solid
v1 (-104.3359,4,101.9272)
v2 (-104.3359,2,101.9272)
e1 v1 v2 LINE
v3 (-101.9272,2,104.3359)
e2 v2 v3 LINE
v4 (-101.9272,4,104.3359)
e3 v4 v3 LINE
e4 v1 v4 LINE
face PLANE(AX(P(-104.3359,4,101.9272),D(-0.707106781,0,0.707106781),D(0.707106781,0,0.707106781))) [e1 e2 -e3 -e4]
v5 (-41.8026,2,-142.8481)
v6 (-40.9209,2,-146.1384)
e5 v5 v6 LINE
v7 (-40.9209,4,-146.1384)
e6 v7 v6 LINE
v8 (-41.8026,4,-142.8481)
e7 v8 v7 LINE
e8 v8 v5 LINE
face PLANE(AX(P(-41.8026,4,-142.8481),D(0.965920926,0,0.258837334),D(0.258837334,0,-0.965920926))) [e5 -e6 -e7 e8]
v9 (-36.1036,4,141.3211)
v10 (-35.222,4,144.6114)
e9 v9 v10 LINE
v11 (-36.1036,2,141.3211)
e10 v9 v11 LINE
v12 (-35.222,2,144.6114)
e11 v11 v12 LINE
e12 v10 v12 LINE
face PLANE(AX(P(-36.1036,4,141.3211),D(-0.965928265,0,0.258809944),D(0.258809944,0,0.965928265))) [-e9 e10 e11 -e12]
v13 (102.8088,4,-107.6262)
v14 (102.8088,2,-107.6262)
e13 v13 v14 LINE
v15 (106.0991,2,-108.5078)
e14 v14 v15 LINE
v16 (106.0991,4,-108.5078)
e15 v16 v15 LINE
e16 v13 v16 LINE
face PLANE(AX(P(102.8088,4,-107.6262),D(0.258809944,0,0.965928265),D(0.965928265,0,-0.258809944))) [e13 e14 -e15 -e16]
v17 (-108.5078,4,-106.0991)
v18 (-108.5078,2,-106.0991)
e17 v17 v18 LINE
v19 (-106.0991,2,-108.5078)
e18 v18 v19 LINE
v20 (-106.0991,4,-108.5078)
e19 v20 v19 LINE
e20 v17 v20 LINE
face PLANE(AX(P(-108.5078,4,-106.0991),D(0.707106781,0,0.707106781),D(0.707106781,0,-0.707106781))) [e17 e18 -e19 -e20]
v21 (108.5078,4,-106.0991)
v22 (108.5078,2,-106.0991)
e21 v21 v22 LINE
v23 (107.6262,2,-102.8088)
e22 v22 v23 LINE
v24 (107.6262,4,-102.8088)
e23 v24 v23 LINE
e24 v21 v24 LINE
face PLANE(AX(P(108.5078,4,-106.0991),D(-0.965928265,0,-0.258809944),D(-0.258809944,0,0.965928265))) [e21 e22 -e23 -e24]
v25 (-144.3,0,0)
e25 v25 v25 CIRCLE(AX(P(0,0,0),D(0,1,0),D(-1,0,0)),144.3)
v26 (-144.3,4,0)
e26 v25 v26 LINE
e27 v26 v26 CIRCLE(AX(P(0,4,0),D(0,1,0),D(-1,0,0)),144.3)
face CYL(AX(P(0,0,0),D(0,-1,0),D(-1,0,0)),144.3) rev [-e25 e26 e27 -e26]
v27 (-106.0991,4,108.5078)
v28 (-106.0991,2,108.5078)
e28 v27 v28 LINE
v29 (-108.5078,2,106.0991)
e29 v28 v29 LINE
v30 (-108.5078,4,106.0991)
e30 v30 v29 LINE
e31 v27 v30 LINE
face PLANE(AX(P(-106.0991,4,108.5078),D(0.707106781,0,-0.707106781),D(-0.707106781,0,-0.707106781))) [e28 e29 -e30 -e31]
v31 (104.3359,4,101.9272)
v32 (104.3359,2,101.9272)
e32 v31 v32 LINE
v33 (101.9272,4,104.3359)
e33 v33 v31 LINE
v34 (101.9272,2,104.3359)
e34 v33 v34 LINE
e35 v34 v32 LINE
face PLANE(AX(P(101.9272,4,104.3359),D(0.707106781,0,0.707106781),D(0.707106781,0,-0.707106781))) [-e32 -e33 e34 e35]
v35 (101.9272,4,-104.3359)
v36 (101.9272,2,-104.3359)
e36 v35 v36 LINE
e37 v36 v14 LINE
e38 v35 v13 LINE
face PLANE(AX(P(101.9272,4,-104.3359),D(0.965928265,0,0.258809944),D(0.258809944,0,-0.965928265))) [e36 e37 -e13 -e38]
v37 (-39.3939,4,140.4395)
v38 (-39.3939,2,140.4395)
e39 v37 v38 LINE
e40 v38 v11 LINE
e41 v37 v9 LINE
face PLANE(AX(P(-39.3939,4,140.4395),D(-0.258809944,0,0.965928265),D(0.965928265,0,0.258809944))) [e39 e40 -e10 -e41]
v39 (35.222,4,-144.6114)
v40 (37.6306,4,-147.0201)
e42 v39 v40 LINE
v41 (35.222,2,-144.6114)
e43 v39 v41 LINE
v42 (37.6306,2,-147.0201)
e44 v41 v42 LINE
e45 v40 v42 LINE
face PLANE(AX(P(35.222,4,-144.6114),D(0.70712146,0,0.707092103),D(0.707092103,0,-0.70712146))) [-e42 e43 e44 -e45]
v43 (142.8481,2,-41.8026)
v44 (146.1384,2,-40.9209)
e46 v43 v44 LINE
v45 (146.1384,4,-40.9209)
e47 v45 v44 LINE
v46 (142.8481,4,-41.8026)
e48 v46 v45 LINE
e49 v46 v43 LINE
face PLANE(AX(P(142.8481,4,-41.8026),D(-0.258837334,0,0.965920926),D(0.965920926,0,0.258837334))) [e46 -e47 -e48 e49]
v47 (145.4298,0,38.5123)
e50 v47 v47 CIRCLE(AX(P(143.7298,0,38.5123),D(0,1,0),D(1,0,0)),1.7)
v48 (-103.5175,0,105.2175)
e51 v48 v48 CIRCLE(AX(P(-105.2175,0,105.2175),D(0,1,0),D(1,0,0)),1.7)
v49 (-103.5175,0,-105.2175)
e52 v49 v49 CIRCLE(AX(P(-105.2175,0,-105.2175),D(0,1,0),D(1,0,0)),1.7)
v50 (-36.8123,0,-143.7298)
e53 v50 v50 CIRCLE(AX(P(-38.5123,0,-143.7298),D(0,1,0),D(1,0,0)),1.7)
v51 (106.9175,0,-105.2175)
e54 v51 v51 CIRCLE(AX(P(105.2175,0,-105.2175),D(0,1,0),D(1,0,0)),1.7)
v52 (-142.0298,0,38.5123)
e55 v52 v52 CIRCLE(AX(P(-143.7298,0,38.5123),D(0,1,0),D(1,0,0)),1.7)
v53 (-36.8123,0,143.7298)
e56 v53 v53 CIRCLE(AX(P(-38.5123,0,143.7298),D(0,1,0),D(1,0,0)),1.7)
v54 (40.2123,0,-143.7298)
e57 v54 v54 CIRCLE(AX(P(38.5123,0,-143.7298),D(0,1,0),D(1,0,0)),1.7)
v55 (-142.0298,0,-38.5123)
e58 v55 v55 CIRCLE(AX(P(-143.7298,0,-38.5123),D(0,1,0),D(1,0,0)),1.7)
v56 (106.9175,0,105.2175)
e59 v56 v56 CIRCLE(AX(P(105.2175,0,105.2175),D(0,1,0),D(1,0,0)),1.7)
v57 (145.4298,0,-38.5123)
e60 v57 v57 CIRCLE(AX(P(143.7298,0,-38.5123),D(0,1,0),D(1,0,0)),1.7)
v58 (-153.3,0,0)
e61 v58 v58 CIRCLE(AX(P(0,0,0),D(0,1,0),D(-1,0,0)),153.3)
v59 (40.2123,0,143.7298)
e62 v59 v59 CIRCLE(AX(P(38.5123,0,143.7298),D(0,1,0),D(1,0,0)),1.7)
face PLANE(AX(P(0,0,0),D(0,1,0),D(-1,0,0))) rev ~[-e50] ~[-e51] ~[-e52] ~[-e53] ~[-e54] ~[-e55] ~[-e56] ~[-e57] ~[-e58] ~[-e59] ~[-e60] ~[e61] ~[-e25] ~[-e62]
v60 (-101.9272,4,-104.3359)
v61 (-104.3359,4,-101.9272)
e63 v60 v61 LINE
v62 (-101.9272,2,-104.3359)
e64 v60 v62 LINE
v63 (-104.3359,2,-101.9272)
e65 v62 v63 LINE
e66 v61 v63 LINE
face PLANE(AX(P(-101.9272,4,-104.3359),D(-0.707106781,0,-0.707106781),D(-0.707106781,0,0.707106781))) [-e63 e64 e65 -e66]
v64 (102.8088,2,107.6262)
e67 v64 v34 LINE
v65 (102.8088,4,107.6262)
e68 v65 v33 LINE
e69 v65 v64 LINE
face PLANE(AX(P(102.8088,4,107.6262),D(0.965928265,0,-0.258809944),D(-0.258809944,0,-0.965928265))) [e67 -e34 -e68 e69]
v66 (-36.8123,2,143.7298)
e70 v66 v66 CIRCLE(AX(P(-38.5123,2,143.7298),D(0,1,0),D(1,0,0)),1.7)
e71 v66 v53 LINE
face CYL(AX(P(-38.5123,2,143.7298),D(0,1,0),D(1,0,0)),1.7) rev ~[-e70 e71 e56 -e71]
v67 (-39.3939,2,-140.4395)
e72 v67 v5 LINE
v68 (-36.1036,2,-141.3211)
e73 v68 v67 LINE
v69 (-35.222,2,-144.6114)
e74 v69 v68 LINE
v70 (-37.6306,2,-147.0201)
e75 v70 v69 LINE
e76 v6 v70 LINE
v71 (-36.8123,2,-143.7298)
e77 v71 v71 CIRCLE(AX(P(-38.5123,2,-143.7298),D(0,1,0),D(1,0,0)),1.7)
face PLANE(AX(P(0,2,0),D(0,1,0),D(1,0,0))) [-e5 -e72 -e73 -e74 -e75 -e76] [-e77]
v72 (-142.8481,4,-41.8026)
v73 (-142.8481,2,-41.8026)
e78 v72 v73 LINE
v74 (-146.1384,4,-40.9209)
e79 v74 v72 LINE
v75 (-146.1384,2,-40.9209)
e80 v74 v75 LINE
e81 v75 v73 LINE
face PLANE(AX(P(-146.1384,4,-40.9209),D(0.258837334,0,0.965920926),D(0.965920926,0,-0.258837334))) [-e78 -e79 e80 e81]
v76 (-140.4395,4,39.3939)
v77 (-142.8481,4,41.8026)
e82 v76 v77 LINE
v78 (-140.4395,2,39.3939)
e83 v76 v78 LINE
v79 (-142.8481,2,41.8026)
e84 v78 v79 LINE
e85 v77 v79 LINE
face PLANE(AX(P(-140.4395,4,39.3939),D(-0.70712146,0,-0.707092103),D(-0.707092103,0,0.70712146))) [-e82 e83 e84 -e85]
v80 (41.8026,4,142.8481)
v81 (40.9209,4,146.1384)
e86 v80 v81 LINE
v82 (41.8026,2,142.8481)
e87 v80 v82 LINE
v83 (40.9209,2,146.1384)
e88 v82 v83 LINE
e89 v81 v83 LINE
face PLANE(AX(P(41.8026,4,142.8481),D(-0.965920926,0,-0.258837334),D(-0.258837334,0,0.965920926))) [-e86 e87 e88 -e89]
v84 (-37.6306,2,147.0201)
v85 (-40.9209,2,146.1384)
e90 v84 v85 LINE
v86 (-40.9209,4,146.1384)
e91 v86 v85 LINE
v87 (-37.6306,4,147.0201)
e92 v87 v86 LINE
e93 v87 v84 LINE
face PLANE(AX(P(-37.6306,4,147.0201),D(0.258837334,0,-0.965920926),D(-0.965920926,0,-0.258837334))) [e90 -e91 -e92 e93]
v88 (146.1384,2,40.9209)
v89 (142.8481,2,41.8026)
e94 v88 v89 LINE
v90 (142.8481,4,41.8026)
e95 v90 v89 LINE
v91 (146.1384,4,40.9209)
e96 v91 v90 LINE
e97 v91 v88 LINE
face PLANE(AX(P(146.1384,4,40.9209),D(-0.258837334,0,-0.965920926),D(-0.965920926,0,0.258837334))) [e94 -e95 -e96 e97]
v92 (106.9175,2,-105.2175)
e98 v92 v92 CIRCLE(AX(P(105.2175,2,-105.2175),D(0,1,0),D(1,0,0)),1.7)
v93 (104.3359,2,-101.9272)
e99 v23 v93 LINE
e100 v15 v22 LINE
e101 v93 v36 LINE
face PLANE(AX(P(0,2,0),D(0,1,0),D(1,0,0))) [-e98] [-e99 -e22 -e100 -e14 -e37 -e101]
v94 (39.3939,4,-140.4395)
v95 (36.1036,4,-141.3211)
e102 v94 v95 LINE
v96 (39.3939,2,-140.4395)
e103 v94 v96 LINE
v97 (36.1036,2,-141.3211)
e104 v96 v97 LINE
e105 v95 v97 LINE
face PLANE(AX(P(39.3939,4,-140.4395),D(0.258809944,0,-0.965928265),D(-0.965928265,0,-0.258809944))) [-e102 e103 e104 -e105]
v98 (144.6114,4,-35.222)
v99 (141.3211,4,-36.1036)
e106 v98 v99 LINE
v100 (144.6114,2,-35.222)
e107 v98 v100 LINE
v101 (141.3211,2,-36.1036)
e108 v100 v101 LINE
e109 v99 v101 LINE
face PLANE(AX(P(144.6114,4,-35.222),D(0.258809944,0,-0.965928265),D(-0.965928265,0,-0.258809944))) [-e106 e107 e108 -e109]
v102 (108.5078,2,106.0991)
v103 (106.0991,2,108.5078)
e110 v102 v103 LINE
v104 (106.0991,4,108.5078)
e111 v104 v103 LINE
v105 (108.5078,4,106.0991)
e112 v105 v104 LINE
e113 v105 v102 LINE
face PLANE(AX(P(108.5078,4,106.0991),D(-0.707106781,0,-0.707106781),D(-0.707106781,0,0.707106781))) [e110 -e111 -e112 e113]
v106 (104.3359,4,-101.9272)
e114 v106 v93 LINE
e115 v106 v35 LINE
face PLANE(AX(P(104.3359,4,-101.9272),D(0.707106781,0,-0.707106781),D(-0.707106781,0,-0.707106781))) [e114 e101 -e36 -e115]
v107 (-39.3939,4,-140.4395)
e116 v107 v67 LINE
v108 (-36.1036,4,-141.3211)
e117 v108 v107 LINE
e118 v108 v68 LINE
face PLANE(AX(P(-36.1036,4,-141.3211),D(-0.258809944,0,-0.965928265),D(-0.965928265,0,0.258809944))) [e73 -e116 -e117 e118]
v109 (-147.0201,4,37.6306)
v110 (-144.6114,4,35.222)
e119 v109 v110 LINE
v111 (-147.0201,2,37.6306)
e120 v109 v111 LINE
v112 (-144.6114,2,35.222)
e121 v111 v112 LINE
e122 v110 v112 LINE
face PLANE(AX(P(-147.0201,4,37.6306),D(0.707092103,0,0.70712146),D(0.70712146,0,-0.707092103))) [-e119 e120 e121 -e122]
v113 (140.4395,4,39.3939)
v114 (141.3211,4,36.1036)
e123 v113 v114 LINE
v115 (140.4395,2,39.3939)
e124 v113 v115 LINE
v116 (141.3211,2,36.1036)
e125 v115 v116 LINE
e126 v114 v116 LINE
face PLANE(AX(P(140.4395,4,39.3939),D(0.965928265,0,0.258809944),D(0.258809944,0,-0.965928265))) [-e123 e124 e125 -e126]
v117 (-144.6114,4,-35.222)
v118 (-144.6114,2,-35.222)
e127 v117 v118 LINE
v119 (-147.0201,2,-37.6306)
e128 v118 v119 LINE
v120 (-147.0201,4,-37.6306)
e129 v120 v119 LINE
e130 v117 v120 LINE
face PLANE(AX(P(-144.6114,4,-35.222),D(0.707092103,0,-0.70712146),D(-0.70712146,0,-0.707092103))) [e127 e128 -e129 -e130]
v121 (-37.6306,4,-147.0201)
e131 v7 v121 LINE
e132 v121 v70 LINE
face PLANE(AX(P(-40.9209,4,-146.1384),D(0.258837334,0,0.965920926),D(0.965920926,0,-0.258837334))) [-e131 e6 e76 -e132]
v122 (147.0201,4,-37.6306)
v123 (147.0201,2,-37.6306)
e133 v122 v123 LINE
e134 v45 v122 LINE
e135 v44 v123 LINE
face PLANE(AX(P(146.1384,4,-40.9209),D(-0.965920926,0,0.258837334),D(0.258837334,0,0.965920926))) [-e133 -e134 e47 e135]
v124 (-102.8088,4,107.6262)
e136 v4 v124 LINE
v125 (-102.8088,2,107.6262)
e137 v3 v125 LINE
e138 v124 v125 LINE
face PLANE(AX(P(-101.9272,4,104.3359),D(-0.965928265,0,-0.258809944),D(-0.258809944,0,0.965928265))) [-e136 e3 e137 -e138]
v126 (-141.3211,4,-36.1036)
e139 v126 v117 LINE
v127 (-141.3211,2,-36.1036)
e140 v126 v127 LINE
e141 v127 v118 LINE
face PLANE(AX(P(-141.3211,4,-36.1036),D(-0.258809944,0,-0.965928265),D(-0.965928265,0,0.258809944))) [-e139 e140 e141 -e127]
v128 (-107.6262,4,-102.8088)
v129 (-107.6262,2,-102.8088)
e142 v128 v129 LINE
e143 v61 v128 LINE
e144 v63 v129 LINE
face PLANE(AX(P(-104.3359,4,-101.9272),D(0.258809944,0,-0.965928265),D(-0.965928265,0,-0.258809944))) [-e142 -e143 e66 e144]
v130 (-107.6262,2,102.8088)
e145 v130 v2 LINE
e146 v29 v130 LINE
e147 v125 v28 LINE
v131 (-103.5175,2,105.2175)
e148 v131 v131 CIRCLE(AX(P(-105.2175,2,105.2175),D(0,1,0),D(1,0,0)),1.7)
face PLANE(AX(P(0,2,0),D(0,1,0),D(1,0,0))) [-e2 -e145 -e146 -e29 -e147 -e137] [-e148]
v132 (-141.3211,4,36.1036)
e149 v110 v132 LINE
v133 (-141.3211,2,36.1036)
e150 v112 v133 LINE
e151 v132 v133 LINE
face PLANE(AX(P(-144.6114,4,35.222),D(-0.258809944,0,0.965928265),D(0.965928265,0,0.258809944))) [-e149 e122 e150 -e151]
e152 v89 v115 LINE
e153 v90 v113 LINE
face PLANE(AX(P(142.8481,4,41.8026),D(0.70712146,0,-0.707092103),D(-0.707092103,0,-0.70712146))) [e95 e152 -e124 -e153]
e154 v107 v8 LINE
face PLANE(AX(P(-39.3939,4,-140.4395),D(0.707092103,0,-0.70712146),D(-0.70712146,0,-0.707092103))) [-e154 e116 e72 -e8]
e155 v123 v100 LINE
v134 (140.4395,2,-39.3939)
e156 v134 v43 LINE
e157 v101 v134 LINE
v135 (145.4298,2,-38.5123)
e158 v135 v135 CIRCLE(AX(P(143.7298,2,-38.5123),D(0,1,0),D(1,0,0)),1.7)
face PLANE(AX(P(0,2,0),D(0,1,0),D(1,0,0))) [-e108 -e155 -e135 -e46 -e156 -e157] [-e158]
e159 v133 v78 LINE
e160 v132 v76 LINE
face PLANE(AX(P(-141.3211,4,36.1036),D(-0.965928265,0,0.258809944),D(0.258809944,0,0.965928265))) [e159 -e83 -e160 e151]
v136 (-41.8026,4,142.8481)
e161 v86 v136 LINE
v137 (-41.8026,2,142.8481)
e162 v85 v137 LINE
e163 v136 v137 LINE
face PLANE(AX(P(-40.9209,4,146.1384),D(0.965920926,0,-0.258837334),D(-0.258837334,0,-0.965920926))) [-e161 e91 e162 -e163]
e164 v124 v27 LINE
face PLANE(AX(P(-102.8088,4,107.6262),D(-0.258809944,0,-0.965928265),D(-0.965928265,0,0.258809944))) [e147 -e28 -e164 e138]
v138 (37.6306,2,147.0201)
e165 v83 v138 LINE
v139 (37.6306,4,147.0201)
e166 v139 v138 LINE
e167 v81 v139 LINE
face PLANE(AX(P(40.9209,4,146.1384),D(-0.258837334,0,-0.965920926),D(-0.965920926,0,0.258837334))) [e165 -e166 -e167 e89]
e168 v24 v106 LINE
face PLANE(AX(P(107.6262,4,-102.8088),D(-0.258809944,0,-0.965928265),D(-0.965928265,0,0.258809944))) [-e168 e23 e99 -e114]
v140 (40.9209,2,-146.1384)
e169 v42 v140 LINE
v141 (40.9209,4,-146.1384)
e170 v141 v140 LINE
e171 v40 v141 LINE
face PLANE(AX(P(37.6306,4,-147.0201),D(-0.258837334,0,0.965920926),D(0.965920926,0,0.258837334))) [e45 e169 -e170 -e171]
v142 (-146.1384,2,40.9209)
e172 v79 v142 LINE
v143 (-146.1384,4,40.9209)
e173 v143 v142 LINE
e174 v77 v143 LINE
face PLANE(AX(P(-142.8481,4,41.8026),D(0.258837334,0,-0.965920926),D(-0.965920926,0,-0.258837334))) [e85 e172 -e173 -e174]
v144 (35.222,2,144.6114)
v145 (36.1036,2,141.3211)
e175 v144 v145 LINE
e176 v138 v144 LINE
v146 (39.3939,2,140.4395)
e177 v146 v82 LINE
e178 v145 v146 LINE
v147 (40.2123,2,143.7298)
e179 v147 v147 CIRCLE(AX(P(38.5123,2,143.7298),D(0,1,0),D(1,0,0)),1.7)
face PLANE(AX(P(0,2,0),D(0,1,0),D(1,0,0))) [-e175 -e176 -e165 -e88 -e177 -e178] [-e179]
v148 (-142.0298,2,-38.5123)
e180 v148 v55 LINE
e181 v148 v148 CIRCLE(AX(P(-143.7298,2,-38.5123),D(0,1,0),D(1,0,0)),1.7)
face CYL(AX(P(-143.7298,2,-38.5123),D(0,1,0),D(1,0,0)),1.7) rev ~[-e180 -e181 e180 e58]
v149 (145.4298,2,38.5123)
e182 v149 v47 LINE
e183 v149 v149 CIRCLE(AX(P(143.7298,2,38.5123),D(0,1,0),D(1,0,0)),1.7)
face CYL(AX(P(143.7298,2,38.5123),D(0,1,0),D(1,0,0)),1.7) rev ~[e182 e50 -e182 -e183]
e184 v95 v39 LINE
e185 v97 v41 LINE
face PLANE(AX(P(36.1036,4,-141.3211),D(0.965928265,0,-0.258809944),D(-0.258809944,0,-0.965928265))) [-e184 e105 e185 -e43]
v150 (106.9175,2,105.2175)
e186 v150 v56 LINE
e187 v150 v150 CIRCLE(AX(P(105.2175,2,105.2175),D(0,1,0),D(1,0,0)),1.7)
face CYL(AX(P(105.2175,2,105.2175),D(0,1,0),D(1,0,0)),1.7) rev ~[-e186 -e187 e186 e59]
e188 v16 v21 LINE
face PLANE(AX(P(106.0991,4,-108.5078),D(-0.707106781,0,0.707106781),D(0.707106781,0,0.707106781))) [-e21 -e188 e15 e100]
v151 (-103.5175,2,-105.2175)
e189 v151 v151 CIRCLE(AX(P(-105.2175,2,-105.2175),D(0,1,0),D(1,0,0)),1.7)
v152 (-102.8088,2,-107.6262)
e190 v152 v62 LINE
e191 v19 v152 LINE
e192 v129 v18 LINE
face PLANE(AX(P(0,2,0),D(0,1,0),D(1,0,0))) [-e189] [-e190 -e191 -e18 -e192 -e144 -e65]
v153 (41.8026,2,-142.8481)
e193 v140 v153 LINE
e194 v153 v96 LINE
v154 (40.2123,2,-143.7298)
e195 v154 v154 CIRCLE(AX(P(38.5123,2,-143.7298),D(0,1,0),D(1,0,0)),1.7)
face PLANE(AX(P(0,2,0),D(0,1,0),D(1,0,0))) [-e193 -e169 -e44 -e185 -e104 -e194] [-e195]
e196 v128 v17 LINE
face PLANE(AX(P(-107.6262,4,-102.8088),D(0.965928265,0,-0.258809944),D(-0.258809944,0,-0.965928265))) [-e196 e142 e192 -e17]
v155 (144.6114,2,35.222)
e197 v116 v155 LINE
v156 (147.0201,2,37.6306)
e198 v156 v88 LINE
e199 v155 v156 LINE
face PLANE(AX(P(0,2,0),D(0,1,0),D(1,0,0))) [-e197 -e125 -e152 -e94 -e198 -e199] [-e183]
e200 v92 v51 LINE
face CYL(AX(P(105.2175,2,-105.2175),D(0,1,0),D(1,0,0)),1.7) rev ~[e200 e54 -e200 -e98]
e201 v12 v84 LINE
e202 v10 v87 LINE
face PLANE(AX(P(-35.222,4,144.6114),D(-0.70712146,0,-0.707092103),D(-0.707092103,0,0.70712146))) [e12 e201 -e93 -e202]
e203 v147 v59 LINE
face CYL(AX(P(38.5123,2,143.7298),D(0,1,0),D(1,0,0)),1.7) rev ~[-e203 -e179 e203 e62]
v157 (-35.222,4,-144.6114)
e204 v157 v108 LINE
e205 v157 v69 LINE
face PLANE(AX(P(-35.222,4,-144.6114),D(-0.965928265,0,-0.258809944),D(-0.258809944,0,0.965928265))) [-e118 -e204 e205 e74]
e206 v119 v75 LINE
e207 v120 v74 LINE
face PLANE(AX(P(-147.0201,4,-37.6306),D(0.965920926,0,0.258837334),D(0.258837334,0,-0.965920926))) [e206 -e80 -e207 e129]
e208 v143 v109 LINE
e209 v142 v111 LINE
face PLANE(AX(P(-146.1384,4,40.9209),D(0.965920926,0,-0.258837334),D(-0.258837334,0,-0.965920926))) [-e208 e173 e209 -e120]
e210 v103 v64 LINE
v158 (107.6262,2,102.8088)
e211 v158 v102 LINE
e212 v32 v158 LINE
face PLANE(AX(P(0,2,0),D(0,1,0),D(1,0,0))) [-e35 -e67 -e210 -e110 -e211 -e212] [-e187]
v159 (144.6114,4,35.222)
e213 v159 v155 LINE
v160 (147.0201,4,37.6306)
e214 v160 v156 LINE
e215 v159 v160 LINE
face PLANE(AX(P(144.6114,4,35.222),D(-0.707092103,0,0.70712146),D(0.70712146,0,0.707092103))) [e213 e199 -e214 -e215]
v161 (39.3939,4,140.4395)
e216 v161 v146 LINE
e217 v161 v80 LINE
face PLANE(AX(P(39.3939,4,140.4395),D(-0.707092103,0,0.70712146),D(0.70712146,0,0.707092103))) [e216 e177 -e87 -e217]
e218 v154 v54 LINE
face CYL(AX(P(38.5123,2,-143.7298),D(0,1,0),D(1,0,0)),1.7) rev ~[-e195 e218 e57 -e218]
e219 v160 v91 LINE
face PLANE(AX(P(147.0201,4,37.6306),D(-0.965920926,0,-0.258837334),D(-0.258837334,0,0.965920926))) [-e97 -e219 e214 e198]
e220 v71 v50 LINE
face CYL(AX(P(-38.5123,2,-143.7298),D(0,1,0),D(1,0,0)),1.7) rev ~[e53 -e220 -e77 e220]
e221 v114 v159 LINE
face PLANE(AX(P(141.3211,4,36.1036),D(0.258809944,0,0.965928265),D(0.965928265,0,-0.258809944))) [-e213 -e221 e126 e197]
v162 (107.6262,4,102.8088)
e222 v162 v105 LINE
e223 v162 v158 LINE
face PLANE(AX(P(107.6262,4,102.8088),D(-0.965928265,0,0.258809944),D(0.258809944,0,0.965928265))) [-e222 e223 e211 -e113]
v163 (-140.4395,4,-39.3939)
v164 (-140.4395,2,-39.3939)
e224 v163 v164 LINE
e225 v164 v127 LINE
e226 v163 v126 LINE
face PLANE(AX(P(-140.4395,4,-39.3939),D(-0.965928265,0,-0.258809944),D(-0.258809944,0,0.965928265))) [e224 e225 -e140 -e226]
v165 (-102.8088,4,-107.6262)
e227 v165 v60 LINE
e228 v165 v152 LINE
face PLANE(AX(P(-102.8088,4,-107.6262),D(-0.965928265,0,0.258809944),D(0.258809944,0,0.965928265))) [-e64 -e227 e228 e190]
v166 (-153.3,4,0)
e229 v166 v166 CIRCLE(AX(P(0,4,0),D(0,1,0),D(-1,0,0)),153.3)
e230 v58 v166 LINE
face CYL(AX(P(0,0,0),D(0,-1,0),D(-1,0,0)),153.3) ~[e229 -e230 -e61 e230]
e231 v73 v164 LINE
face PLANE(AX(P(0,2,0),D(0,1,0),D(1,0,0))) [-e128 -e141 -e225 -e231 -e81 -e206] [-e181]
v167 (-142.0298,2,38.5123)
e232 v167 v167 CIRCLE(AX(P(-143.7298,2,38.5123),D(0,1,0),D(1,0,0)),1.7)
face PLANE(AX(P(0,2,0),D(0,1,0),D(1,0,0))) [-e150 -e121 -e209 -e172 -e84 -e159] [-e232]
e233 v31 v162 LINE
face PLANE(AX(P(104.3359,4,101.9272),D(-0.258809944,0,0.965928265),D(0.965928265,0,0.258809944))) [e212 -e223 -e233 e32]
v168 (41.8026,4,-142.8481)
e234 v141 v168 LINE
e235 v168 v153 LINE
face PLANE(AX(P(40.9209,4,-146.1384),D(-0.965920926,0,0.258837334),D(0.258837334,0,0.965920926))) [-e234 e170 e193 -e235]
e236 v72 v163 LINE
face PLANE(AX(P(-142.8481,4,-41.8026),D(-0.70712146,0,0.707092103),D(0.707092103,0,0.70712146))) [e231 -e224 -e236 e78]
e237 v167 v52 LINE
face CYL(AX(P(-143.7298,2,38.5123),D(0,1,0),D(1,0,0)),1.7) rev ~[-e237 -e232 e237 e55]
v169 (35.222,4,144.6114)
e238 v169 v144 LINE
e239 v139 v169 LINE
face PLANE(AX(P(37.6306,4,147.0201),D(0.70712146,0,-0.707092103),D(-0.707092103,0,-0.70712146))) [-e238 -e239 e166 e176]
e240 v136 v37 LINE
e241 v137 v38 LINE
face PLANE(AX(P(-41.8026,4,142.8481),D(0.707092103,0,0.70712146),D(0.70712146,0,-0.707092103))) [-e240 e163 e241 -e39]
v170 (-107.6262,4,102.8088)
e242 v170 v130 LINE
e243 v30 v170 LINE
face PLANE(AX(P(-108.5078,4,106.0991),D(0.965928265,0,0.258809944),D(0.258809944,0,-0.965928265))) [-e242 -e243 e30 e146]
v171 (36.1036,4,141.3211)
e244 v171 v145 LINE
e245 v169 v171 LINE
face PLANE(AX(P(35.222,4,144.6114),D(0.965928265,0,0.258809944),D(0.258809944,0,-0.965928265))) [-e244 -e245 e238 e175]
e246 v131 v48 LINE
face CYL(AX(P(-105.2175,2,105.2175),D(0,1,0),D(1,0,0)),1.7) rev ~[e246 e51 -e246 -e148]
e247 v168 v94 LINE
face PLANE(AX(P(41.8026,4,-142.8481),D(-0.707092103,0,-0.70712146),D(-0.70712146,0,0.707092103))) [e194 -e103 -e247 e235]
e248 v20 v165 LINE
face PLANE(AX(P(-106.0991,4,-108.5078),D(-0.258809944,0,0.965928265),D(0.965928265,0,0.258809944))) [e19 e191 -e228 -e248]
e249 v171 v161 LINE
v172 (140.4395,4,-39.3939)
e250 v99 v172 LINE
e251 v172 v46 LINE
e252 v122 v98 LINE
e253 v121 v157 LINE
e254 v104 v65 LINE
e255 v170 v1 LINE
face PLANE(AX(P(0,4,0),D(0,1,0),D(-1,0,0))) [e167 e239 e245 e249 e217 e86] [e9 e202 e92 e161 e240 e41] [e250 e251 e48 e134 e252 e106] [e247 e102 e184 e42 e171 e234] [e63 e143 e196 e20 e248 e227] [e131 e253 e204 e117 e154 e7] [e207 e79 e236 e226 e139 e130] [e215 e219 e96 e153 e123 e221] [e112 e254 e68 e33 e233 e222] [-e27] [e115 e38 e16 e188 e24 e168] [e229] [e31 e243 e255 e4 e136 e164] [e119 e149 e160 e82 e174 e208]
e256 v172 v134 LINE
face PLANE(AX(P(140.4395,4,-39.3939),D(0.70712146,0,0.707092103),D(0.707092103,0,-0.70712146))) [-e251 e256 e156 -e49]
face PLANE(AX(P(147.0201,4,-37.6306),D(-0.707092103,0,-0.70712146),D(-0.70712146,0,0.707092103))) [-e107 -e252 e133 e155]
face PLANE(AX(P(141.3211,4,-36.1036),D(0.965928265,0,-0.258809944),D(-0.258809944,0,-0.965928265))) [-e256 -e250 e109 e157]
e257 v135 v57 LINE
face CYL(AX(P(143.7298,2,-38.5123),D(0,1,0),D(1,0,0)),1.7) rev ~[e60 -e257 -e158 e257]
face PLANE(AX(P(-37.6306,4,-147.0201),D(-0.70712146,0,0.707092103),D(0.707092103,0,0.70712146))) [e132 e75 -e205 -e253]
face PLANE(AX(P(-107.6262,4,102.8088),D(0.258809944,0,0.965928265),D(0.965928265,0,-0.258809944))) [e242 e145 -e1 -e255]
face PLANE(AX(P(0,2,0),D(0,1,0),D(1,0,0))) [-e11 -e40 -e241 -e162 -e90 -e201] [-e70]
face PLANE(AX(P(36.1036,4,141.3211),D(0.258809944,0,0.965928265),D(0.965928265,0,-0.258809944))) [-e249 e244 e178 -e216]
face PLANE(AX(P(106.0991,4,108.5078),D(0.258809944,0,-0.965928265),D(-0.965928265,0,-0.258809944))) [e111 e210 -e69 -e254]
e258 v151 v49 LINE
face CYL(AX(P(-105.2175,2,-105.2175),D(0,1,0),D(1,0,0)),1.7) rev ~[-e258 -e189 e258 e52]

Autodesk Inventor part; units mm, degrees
ref_plane "YZ Plane" through (0, 0, 0) normal (1, 0, 0) x (0, 1, 0)
ref_plane "XZ Plane" through (0, 0, 0) normal (0, 1, 0) x (-1, 0, 0)
ref_plane "XY Plane" through (0, 0, 0) normal (0, 0, 1) x (1, 0, 0)
sketch "Sketch1" plane through (0, 0, 0) normal (0, 1, 0) x (-1, 0, 0)
  circle A0 centre (0, 0) radius 144.3
  circle A1 centre (0, 0) radius 153.3
  dimension "d1" = 9
  dimension "d5" = 306.6
extrude "Extrusion1" add sketch "Sketch1" along normal blind 4
sketch "Sketch2" plane through (0, 4, 0) normal (0, 1, 0) x (1, 0, 0)
  line L0 (0, 0) -> (143.7298, 38.5123) construction
  line L1 (146.1384, 40.9209) -> (147.0201, 37.6306)
  line L2 (147.0201, 37.6306) -> (144.6114, 35.222)
  line L3 (144.6114, 35.222) -> (141.3211, 36.1036)
  line L4 (141.3211, 36.1036) -> (140.4395, 39.3939)
  line L5 (140.4395, 39.3939) -> (142.8481, 41.8026)
  line L6 (142.8481, 41.8026) -> (146.1384, 40.9209)
  line L7 (0, 0) -> (153.3, 0) construction
  circle A0 centre (0, 0) radius 153.3 projected
  line L8 (102.8088, 107.6262) -> (106.0991, 108.5078)
  line L9 (101.9272, 104.3359) -> (102.8088, 107.6262)
  line L10 (104.3359, 101.9272) -> (101.9272, 104.3359)
  line L11 (107.6262, 102.8088) -> (104.3359, 101.9272)
  line L12 (108.5078, 106.0991) -> (107.6262, 102.8088)
  line L13 (106.0991, 108.5078) -> (108.5078, 106.0991)
  line L14 (35.222, 144.6114) -> (37.6306, 147.0201)
  line L15 (36.1036, 141.3211) -> (35.222, 144.6114)
  line L16 (39.3939, 140.4395) -> (36.1036, 141.3211)
  line L17 (41.8026, 142.8481) -> (39.3939, 140.4395)
  line L18 (40.9209, 146.1384) -> (41.8026, 142.8481)
  line L19 (37.6306, 147.0201) -> (40.9209, 146.1384)
  line L20 (-41.8026, 142.8481) -> (-40.9209, 146.1384)
  line L21 (-39.3939, 140.4395) -> (-41.8026, 142.8481)
  line L22 (-36.1036, 141.3211) -> (-39.3939, 140.4395)
  line L23 (-35.222, 144.6114) -> (-36.1036, 141.3211)
  line L24 (-37.6306, 147.0201) -> (-35.222, 144.6114)
  line L25 (-40.9209, 146.1384) -> (-37.6306, 147.0201)
  line L26 (-107.6262, 102.8088) -> (-108.5078, 106.0991)
  line L27 (-104.3359, 101.9272) -> (-107.6262, 102.8088)
  line L28 (-101.9272, 104.3359) -> (-104.3359, 101.9272)
  line L29 (-102.8088, 107.6262) -> (-101.9272, 104.3359)
  line L30 (-106.0991, 108.5078) -> (-102.8088, 107.6262)
  line L31 (-108.5078, 106.0991) -> (-106.0991, 108.5078)
  line L32 (-144.6114, 35.222) -> (-147.0201, 37.6306)
  line L33 (-141.3211, 36.1036) -> (-144.6114, 35.222)
  line L34 (-140.4395, 39.3939) -> (-141.3211, 36.1036)
  line L35 (-142.8481, 41.8026) -> (-140.4395, 39.3939)
  line L36 (-146.1384, 40.9209) -> (-142.8481, 41.8026)
  line L37 (-147.0201, 37.6306) -> (-146.1384, 40.9209)
  line L38 (-142.8481, -41.8026) -> (-146.1384, -40.9209)
  line L39 (-140.4395, -39.3939) -> (-142.8481, -41.8026)
  line L40 (-141.3211, -36.1036) -> (-140.4395, -39.3939)
  line L41 (-144.6114, -35.222) -> (-141.3211, -36.1036)
  line L42 (-147.0201, -37.6306) -> (-144.6114, -35.222)
  line L43 (-146.1384, -40.9209) -> (-147.0201, -37.6306)
  line L44 (-102.8088, -107.6262) -> (-106.0991, -108.5078)
  line L45 (-101.9272, -104.3359) -> (-102.8088, -107.6262)
  line L46 (-104.3359, -101.9272) -> (-101.9272, -104.3359)
  line L47 (-107.6262, -102.8088) -> (-104.3359, -101.9272)
  line L48 (-108.5078, -106.0991) -> (-107.6262, -102.8088)
  line L49 (-106.0991, -108.5078) -> (-108.5078, -106.0991)
  line L50 (-35.222, -144.6114) -> (-37.6306, -147.0201)
  line L51 (-36.1036, -141.3211) -> (-35.222, -144.6114)
  line L52 (-39.3939, -140.4395) -> (-36.1036, -141.3211)
  line L53 (-41.8026, -142.8481) -> (-39.3939, -140.4395)
  line L54 (-40.9209, -146.1384) -> (-41.8026, -142.8481)
  line L55 (-37.6306, -147.0201) -> (-40.9209, -146.1384)
  line L56 (41.8026, -142.8481) -> (40.9209, -146.1384)
  line L57 (39.3939, -140.4395) -> (41.8026, -142.8481)
  line L58 (36.1036, -141.3211) -> (39.3939, -140.4395)
  line L59 (35.222, -144.6114) -> (36.1036, -141.3211)
  line L60 (37.6306, -147.0201) -> (35.222, -144.6114)
  line L61 (40.9209, -146.1384) -> (37.6306, -147.0201)
  line L62 (107.6262, -102.8088) -> (108.5078, -106.0991)
  line L63 (104.3359, -101.9272) -> (107.6262, -102.8088)
  line L64 (101.9272, -104.3359) -> (104.3359, -101.9272)
  line L65 (102.8088, -107.6262) -> (101.9272, -104.3359)
  line L66 (106.0991, -108.5078) -> (102.8088, -107.6262)
  line L67 (108.5078, -106.0991) -> (106.0991, -108.5078)
  line L68 (144.6114, -35.222) -> (147.0201, -37.6306)
  line L69 (141.3211, -36.1036) -> (144.6114, -35.222)
  line L70 (140.4395, -39.3939) -> (141.3211, -36.1036)
  line L71 (142.8481, -41.8026) -> (140.4395, -39.3939)
  line L72 (146.1384, -40.9209) -> (142.8481, -41.8026)
  line L73 (147.0201, -37.6306) -> (146.1384, -40.9209)
  dimension "d6" = 148.8
  dimension "d7" = 5.9
  dimension "d8" = 15
  dimension "d11" = 360
extrude "Extrusion2" cut sketch "Sketch2" against normal blind 2 contours L1 L2 L3 L4 L5 L6 | L8 L13 L12 L11 L10 L9 | L14 L19 L18 L17 L16 L15 | L20 L25 L24 L23 L22 L21 | L26 L31 L30 L29 L28 L27 | L32 L37 L36 L35 L34 L33 | L38 L43 L42 L41 L40 L39 | L44 L49 L48 L47 L46 L45 | L50 L55 L54 L53 L52 L51 | L56 L61 L60 L59 L58 L57 | L62 L67 L66 L65 L64 L63 | L68 L73 L72 L71 L70 L69
sketch "Sketch3" plane through (0, 2, 0) normal (0, 1, 0) x (1, 0, 0)
  circle A0 centre (143.7298, 38.5123) radius 1.7
  line L0 (144.6114, 35.222) -> (141.3211, 36.1036) projected
  line L1 (142.8481, 41.8026) -> (146.1384, 40.9209) projected
  line L2 (144.6114, 35.222) -> (142.8481, 41.8026) construction
  circle A1 centre (105.2175, 105.2175) radius 1.7
  circle A2 centre (38.5123, 143.7298) radius 1.7
  circle A3 centre (-38.5123, 143.7298) radius 1.7
  circle A4 centre (-105.2175, 105.2175) radius 1.7
  circle A5 centre (-143.7298, 38.5123) radius 1.7
  circle A6 centre (-143.7298, -38.5123) radius 1.7
  circle A7 centre (-105.2175, -105.2175) radius 1.7
  circle A8 centre (-38.5123, -143.7298) radius 1.7
  circle A9 centre (38.5123, -143.7298) radius 1.7
  circle A10 centre (105.2175, -105.2175) radius 1.7
  circle A11 centre (143.7298, -38.5123) radius 1.7
  point P0 (0, 0)
  dimension "d15" = 3.4
  dimension "d18" = 360
extrude "Extrusion3" cut sketch "Sketch3" against normal through all
properties part number "ArmLoopOuterRing"
